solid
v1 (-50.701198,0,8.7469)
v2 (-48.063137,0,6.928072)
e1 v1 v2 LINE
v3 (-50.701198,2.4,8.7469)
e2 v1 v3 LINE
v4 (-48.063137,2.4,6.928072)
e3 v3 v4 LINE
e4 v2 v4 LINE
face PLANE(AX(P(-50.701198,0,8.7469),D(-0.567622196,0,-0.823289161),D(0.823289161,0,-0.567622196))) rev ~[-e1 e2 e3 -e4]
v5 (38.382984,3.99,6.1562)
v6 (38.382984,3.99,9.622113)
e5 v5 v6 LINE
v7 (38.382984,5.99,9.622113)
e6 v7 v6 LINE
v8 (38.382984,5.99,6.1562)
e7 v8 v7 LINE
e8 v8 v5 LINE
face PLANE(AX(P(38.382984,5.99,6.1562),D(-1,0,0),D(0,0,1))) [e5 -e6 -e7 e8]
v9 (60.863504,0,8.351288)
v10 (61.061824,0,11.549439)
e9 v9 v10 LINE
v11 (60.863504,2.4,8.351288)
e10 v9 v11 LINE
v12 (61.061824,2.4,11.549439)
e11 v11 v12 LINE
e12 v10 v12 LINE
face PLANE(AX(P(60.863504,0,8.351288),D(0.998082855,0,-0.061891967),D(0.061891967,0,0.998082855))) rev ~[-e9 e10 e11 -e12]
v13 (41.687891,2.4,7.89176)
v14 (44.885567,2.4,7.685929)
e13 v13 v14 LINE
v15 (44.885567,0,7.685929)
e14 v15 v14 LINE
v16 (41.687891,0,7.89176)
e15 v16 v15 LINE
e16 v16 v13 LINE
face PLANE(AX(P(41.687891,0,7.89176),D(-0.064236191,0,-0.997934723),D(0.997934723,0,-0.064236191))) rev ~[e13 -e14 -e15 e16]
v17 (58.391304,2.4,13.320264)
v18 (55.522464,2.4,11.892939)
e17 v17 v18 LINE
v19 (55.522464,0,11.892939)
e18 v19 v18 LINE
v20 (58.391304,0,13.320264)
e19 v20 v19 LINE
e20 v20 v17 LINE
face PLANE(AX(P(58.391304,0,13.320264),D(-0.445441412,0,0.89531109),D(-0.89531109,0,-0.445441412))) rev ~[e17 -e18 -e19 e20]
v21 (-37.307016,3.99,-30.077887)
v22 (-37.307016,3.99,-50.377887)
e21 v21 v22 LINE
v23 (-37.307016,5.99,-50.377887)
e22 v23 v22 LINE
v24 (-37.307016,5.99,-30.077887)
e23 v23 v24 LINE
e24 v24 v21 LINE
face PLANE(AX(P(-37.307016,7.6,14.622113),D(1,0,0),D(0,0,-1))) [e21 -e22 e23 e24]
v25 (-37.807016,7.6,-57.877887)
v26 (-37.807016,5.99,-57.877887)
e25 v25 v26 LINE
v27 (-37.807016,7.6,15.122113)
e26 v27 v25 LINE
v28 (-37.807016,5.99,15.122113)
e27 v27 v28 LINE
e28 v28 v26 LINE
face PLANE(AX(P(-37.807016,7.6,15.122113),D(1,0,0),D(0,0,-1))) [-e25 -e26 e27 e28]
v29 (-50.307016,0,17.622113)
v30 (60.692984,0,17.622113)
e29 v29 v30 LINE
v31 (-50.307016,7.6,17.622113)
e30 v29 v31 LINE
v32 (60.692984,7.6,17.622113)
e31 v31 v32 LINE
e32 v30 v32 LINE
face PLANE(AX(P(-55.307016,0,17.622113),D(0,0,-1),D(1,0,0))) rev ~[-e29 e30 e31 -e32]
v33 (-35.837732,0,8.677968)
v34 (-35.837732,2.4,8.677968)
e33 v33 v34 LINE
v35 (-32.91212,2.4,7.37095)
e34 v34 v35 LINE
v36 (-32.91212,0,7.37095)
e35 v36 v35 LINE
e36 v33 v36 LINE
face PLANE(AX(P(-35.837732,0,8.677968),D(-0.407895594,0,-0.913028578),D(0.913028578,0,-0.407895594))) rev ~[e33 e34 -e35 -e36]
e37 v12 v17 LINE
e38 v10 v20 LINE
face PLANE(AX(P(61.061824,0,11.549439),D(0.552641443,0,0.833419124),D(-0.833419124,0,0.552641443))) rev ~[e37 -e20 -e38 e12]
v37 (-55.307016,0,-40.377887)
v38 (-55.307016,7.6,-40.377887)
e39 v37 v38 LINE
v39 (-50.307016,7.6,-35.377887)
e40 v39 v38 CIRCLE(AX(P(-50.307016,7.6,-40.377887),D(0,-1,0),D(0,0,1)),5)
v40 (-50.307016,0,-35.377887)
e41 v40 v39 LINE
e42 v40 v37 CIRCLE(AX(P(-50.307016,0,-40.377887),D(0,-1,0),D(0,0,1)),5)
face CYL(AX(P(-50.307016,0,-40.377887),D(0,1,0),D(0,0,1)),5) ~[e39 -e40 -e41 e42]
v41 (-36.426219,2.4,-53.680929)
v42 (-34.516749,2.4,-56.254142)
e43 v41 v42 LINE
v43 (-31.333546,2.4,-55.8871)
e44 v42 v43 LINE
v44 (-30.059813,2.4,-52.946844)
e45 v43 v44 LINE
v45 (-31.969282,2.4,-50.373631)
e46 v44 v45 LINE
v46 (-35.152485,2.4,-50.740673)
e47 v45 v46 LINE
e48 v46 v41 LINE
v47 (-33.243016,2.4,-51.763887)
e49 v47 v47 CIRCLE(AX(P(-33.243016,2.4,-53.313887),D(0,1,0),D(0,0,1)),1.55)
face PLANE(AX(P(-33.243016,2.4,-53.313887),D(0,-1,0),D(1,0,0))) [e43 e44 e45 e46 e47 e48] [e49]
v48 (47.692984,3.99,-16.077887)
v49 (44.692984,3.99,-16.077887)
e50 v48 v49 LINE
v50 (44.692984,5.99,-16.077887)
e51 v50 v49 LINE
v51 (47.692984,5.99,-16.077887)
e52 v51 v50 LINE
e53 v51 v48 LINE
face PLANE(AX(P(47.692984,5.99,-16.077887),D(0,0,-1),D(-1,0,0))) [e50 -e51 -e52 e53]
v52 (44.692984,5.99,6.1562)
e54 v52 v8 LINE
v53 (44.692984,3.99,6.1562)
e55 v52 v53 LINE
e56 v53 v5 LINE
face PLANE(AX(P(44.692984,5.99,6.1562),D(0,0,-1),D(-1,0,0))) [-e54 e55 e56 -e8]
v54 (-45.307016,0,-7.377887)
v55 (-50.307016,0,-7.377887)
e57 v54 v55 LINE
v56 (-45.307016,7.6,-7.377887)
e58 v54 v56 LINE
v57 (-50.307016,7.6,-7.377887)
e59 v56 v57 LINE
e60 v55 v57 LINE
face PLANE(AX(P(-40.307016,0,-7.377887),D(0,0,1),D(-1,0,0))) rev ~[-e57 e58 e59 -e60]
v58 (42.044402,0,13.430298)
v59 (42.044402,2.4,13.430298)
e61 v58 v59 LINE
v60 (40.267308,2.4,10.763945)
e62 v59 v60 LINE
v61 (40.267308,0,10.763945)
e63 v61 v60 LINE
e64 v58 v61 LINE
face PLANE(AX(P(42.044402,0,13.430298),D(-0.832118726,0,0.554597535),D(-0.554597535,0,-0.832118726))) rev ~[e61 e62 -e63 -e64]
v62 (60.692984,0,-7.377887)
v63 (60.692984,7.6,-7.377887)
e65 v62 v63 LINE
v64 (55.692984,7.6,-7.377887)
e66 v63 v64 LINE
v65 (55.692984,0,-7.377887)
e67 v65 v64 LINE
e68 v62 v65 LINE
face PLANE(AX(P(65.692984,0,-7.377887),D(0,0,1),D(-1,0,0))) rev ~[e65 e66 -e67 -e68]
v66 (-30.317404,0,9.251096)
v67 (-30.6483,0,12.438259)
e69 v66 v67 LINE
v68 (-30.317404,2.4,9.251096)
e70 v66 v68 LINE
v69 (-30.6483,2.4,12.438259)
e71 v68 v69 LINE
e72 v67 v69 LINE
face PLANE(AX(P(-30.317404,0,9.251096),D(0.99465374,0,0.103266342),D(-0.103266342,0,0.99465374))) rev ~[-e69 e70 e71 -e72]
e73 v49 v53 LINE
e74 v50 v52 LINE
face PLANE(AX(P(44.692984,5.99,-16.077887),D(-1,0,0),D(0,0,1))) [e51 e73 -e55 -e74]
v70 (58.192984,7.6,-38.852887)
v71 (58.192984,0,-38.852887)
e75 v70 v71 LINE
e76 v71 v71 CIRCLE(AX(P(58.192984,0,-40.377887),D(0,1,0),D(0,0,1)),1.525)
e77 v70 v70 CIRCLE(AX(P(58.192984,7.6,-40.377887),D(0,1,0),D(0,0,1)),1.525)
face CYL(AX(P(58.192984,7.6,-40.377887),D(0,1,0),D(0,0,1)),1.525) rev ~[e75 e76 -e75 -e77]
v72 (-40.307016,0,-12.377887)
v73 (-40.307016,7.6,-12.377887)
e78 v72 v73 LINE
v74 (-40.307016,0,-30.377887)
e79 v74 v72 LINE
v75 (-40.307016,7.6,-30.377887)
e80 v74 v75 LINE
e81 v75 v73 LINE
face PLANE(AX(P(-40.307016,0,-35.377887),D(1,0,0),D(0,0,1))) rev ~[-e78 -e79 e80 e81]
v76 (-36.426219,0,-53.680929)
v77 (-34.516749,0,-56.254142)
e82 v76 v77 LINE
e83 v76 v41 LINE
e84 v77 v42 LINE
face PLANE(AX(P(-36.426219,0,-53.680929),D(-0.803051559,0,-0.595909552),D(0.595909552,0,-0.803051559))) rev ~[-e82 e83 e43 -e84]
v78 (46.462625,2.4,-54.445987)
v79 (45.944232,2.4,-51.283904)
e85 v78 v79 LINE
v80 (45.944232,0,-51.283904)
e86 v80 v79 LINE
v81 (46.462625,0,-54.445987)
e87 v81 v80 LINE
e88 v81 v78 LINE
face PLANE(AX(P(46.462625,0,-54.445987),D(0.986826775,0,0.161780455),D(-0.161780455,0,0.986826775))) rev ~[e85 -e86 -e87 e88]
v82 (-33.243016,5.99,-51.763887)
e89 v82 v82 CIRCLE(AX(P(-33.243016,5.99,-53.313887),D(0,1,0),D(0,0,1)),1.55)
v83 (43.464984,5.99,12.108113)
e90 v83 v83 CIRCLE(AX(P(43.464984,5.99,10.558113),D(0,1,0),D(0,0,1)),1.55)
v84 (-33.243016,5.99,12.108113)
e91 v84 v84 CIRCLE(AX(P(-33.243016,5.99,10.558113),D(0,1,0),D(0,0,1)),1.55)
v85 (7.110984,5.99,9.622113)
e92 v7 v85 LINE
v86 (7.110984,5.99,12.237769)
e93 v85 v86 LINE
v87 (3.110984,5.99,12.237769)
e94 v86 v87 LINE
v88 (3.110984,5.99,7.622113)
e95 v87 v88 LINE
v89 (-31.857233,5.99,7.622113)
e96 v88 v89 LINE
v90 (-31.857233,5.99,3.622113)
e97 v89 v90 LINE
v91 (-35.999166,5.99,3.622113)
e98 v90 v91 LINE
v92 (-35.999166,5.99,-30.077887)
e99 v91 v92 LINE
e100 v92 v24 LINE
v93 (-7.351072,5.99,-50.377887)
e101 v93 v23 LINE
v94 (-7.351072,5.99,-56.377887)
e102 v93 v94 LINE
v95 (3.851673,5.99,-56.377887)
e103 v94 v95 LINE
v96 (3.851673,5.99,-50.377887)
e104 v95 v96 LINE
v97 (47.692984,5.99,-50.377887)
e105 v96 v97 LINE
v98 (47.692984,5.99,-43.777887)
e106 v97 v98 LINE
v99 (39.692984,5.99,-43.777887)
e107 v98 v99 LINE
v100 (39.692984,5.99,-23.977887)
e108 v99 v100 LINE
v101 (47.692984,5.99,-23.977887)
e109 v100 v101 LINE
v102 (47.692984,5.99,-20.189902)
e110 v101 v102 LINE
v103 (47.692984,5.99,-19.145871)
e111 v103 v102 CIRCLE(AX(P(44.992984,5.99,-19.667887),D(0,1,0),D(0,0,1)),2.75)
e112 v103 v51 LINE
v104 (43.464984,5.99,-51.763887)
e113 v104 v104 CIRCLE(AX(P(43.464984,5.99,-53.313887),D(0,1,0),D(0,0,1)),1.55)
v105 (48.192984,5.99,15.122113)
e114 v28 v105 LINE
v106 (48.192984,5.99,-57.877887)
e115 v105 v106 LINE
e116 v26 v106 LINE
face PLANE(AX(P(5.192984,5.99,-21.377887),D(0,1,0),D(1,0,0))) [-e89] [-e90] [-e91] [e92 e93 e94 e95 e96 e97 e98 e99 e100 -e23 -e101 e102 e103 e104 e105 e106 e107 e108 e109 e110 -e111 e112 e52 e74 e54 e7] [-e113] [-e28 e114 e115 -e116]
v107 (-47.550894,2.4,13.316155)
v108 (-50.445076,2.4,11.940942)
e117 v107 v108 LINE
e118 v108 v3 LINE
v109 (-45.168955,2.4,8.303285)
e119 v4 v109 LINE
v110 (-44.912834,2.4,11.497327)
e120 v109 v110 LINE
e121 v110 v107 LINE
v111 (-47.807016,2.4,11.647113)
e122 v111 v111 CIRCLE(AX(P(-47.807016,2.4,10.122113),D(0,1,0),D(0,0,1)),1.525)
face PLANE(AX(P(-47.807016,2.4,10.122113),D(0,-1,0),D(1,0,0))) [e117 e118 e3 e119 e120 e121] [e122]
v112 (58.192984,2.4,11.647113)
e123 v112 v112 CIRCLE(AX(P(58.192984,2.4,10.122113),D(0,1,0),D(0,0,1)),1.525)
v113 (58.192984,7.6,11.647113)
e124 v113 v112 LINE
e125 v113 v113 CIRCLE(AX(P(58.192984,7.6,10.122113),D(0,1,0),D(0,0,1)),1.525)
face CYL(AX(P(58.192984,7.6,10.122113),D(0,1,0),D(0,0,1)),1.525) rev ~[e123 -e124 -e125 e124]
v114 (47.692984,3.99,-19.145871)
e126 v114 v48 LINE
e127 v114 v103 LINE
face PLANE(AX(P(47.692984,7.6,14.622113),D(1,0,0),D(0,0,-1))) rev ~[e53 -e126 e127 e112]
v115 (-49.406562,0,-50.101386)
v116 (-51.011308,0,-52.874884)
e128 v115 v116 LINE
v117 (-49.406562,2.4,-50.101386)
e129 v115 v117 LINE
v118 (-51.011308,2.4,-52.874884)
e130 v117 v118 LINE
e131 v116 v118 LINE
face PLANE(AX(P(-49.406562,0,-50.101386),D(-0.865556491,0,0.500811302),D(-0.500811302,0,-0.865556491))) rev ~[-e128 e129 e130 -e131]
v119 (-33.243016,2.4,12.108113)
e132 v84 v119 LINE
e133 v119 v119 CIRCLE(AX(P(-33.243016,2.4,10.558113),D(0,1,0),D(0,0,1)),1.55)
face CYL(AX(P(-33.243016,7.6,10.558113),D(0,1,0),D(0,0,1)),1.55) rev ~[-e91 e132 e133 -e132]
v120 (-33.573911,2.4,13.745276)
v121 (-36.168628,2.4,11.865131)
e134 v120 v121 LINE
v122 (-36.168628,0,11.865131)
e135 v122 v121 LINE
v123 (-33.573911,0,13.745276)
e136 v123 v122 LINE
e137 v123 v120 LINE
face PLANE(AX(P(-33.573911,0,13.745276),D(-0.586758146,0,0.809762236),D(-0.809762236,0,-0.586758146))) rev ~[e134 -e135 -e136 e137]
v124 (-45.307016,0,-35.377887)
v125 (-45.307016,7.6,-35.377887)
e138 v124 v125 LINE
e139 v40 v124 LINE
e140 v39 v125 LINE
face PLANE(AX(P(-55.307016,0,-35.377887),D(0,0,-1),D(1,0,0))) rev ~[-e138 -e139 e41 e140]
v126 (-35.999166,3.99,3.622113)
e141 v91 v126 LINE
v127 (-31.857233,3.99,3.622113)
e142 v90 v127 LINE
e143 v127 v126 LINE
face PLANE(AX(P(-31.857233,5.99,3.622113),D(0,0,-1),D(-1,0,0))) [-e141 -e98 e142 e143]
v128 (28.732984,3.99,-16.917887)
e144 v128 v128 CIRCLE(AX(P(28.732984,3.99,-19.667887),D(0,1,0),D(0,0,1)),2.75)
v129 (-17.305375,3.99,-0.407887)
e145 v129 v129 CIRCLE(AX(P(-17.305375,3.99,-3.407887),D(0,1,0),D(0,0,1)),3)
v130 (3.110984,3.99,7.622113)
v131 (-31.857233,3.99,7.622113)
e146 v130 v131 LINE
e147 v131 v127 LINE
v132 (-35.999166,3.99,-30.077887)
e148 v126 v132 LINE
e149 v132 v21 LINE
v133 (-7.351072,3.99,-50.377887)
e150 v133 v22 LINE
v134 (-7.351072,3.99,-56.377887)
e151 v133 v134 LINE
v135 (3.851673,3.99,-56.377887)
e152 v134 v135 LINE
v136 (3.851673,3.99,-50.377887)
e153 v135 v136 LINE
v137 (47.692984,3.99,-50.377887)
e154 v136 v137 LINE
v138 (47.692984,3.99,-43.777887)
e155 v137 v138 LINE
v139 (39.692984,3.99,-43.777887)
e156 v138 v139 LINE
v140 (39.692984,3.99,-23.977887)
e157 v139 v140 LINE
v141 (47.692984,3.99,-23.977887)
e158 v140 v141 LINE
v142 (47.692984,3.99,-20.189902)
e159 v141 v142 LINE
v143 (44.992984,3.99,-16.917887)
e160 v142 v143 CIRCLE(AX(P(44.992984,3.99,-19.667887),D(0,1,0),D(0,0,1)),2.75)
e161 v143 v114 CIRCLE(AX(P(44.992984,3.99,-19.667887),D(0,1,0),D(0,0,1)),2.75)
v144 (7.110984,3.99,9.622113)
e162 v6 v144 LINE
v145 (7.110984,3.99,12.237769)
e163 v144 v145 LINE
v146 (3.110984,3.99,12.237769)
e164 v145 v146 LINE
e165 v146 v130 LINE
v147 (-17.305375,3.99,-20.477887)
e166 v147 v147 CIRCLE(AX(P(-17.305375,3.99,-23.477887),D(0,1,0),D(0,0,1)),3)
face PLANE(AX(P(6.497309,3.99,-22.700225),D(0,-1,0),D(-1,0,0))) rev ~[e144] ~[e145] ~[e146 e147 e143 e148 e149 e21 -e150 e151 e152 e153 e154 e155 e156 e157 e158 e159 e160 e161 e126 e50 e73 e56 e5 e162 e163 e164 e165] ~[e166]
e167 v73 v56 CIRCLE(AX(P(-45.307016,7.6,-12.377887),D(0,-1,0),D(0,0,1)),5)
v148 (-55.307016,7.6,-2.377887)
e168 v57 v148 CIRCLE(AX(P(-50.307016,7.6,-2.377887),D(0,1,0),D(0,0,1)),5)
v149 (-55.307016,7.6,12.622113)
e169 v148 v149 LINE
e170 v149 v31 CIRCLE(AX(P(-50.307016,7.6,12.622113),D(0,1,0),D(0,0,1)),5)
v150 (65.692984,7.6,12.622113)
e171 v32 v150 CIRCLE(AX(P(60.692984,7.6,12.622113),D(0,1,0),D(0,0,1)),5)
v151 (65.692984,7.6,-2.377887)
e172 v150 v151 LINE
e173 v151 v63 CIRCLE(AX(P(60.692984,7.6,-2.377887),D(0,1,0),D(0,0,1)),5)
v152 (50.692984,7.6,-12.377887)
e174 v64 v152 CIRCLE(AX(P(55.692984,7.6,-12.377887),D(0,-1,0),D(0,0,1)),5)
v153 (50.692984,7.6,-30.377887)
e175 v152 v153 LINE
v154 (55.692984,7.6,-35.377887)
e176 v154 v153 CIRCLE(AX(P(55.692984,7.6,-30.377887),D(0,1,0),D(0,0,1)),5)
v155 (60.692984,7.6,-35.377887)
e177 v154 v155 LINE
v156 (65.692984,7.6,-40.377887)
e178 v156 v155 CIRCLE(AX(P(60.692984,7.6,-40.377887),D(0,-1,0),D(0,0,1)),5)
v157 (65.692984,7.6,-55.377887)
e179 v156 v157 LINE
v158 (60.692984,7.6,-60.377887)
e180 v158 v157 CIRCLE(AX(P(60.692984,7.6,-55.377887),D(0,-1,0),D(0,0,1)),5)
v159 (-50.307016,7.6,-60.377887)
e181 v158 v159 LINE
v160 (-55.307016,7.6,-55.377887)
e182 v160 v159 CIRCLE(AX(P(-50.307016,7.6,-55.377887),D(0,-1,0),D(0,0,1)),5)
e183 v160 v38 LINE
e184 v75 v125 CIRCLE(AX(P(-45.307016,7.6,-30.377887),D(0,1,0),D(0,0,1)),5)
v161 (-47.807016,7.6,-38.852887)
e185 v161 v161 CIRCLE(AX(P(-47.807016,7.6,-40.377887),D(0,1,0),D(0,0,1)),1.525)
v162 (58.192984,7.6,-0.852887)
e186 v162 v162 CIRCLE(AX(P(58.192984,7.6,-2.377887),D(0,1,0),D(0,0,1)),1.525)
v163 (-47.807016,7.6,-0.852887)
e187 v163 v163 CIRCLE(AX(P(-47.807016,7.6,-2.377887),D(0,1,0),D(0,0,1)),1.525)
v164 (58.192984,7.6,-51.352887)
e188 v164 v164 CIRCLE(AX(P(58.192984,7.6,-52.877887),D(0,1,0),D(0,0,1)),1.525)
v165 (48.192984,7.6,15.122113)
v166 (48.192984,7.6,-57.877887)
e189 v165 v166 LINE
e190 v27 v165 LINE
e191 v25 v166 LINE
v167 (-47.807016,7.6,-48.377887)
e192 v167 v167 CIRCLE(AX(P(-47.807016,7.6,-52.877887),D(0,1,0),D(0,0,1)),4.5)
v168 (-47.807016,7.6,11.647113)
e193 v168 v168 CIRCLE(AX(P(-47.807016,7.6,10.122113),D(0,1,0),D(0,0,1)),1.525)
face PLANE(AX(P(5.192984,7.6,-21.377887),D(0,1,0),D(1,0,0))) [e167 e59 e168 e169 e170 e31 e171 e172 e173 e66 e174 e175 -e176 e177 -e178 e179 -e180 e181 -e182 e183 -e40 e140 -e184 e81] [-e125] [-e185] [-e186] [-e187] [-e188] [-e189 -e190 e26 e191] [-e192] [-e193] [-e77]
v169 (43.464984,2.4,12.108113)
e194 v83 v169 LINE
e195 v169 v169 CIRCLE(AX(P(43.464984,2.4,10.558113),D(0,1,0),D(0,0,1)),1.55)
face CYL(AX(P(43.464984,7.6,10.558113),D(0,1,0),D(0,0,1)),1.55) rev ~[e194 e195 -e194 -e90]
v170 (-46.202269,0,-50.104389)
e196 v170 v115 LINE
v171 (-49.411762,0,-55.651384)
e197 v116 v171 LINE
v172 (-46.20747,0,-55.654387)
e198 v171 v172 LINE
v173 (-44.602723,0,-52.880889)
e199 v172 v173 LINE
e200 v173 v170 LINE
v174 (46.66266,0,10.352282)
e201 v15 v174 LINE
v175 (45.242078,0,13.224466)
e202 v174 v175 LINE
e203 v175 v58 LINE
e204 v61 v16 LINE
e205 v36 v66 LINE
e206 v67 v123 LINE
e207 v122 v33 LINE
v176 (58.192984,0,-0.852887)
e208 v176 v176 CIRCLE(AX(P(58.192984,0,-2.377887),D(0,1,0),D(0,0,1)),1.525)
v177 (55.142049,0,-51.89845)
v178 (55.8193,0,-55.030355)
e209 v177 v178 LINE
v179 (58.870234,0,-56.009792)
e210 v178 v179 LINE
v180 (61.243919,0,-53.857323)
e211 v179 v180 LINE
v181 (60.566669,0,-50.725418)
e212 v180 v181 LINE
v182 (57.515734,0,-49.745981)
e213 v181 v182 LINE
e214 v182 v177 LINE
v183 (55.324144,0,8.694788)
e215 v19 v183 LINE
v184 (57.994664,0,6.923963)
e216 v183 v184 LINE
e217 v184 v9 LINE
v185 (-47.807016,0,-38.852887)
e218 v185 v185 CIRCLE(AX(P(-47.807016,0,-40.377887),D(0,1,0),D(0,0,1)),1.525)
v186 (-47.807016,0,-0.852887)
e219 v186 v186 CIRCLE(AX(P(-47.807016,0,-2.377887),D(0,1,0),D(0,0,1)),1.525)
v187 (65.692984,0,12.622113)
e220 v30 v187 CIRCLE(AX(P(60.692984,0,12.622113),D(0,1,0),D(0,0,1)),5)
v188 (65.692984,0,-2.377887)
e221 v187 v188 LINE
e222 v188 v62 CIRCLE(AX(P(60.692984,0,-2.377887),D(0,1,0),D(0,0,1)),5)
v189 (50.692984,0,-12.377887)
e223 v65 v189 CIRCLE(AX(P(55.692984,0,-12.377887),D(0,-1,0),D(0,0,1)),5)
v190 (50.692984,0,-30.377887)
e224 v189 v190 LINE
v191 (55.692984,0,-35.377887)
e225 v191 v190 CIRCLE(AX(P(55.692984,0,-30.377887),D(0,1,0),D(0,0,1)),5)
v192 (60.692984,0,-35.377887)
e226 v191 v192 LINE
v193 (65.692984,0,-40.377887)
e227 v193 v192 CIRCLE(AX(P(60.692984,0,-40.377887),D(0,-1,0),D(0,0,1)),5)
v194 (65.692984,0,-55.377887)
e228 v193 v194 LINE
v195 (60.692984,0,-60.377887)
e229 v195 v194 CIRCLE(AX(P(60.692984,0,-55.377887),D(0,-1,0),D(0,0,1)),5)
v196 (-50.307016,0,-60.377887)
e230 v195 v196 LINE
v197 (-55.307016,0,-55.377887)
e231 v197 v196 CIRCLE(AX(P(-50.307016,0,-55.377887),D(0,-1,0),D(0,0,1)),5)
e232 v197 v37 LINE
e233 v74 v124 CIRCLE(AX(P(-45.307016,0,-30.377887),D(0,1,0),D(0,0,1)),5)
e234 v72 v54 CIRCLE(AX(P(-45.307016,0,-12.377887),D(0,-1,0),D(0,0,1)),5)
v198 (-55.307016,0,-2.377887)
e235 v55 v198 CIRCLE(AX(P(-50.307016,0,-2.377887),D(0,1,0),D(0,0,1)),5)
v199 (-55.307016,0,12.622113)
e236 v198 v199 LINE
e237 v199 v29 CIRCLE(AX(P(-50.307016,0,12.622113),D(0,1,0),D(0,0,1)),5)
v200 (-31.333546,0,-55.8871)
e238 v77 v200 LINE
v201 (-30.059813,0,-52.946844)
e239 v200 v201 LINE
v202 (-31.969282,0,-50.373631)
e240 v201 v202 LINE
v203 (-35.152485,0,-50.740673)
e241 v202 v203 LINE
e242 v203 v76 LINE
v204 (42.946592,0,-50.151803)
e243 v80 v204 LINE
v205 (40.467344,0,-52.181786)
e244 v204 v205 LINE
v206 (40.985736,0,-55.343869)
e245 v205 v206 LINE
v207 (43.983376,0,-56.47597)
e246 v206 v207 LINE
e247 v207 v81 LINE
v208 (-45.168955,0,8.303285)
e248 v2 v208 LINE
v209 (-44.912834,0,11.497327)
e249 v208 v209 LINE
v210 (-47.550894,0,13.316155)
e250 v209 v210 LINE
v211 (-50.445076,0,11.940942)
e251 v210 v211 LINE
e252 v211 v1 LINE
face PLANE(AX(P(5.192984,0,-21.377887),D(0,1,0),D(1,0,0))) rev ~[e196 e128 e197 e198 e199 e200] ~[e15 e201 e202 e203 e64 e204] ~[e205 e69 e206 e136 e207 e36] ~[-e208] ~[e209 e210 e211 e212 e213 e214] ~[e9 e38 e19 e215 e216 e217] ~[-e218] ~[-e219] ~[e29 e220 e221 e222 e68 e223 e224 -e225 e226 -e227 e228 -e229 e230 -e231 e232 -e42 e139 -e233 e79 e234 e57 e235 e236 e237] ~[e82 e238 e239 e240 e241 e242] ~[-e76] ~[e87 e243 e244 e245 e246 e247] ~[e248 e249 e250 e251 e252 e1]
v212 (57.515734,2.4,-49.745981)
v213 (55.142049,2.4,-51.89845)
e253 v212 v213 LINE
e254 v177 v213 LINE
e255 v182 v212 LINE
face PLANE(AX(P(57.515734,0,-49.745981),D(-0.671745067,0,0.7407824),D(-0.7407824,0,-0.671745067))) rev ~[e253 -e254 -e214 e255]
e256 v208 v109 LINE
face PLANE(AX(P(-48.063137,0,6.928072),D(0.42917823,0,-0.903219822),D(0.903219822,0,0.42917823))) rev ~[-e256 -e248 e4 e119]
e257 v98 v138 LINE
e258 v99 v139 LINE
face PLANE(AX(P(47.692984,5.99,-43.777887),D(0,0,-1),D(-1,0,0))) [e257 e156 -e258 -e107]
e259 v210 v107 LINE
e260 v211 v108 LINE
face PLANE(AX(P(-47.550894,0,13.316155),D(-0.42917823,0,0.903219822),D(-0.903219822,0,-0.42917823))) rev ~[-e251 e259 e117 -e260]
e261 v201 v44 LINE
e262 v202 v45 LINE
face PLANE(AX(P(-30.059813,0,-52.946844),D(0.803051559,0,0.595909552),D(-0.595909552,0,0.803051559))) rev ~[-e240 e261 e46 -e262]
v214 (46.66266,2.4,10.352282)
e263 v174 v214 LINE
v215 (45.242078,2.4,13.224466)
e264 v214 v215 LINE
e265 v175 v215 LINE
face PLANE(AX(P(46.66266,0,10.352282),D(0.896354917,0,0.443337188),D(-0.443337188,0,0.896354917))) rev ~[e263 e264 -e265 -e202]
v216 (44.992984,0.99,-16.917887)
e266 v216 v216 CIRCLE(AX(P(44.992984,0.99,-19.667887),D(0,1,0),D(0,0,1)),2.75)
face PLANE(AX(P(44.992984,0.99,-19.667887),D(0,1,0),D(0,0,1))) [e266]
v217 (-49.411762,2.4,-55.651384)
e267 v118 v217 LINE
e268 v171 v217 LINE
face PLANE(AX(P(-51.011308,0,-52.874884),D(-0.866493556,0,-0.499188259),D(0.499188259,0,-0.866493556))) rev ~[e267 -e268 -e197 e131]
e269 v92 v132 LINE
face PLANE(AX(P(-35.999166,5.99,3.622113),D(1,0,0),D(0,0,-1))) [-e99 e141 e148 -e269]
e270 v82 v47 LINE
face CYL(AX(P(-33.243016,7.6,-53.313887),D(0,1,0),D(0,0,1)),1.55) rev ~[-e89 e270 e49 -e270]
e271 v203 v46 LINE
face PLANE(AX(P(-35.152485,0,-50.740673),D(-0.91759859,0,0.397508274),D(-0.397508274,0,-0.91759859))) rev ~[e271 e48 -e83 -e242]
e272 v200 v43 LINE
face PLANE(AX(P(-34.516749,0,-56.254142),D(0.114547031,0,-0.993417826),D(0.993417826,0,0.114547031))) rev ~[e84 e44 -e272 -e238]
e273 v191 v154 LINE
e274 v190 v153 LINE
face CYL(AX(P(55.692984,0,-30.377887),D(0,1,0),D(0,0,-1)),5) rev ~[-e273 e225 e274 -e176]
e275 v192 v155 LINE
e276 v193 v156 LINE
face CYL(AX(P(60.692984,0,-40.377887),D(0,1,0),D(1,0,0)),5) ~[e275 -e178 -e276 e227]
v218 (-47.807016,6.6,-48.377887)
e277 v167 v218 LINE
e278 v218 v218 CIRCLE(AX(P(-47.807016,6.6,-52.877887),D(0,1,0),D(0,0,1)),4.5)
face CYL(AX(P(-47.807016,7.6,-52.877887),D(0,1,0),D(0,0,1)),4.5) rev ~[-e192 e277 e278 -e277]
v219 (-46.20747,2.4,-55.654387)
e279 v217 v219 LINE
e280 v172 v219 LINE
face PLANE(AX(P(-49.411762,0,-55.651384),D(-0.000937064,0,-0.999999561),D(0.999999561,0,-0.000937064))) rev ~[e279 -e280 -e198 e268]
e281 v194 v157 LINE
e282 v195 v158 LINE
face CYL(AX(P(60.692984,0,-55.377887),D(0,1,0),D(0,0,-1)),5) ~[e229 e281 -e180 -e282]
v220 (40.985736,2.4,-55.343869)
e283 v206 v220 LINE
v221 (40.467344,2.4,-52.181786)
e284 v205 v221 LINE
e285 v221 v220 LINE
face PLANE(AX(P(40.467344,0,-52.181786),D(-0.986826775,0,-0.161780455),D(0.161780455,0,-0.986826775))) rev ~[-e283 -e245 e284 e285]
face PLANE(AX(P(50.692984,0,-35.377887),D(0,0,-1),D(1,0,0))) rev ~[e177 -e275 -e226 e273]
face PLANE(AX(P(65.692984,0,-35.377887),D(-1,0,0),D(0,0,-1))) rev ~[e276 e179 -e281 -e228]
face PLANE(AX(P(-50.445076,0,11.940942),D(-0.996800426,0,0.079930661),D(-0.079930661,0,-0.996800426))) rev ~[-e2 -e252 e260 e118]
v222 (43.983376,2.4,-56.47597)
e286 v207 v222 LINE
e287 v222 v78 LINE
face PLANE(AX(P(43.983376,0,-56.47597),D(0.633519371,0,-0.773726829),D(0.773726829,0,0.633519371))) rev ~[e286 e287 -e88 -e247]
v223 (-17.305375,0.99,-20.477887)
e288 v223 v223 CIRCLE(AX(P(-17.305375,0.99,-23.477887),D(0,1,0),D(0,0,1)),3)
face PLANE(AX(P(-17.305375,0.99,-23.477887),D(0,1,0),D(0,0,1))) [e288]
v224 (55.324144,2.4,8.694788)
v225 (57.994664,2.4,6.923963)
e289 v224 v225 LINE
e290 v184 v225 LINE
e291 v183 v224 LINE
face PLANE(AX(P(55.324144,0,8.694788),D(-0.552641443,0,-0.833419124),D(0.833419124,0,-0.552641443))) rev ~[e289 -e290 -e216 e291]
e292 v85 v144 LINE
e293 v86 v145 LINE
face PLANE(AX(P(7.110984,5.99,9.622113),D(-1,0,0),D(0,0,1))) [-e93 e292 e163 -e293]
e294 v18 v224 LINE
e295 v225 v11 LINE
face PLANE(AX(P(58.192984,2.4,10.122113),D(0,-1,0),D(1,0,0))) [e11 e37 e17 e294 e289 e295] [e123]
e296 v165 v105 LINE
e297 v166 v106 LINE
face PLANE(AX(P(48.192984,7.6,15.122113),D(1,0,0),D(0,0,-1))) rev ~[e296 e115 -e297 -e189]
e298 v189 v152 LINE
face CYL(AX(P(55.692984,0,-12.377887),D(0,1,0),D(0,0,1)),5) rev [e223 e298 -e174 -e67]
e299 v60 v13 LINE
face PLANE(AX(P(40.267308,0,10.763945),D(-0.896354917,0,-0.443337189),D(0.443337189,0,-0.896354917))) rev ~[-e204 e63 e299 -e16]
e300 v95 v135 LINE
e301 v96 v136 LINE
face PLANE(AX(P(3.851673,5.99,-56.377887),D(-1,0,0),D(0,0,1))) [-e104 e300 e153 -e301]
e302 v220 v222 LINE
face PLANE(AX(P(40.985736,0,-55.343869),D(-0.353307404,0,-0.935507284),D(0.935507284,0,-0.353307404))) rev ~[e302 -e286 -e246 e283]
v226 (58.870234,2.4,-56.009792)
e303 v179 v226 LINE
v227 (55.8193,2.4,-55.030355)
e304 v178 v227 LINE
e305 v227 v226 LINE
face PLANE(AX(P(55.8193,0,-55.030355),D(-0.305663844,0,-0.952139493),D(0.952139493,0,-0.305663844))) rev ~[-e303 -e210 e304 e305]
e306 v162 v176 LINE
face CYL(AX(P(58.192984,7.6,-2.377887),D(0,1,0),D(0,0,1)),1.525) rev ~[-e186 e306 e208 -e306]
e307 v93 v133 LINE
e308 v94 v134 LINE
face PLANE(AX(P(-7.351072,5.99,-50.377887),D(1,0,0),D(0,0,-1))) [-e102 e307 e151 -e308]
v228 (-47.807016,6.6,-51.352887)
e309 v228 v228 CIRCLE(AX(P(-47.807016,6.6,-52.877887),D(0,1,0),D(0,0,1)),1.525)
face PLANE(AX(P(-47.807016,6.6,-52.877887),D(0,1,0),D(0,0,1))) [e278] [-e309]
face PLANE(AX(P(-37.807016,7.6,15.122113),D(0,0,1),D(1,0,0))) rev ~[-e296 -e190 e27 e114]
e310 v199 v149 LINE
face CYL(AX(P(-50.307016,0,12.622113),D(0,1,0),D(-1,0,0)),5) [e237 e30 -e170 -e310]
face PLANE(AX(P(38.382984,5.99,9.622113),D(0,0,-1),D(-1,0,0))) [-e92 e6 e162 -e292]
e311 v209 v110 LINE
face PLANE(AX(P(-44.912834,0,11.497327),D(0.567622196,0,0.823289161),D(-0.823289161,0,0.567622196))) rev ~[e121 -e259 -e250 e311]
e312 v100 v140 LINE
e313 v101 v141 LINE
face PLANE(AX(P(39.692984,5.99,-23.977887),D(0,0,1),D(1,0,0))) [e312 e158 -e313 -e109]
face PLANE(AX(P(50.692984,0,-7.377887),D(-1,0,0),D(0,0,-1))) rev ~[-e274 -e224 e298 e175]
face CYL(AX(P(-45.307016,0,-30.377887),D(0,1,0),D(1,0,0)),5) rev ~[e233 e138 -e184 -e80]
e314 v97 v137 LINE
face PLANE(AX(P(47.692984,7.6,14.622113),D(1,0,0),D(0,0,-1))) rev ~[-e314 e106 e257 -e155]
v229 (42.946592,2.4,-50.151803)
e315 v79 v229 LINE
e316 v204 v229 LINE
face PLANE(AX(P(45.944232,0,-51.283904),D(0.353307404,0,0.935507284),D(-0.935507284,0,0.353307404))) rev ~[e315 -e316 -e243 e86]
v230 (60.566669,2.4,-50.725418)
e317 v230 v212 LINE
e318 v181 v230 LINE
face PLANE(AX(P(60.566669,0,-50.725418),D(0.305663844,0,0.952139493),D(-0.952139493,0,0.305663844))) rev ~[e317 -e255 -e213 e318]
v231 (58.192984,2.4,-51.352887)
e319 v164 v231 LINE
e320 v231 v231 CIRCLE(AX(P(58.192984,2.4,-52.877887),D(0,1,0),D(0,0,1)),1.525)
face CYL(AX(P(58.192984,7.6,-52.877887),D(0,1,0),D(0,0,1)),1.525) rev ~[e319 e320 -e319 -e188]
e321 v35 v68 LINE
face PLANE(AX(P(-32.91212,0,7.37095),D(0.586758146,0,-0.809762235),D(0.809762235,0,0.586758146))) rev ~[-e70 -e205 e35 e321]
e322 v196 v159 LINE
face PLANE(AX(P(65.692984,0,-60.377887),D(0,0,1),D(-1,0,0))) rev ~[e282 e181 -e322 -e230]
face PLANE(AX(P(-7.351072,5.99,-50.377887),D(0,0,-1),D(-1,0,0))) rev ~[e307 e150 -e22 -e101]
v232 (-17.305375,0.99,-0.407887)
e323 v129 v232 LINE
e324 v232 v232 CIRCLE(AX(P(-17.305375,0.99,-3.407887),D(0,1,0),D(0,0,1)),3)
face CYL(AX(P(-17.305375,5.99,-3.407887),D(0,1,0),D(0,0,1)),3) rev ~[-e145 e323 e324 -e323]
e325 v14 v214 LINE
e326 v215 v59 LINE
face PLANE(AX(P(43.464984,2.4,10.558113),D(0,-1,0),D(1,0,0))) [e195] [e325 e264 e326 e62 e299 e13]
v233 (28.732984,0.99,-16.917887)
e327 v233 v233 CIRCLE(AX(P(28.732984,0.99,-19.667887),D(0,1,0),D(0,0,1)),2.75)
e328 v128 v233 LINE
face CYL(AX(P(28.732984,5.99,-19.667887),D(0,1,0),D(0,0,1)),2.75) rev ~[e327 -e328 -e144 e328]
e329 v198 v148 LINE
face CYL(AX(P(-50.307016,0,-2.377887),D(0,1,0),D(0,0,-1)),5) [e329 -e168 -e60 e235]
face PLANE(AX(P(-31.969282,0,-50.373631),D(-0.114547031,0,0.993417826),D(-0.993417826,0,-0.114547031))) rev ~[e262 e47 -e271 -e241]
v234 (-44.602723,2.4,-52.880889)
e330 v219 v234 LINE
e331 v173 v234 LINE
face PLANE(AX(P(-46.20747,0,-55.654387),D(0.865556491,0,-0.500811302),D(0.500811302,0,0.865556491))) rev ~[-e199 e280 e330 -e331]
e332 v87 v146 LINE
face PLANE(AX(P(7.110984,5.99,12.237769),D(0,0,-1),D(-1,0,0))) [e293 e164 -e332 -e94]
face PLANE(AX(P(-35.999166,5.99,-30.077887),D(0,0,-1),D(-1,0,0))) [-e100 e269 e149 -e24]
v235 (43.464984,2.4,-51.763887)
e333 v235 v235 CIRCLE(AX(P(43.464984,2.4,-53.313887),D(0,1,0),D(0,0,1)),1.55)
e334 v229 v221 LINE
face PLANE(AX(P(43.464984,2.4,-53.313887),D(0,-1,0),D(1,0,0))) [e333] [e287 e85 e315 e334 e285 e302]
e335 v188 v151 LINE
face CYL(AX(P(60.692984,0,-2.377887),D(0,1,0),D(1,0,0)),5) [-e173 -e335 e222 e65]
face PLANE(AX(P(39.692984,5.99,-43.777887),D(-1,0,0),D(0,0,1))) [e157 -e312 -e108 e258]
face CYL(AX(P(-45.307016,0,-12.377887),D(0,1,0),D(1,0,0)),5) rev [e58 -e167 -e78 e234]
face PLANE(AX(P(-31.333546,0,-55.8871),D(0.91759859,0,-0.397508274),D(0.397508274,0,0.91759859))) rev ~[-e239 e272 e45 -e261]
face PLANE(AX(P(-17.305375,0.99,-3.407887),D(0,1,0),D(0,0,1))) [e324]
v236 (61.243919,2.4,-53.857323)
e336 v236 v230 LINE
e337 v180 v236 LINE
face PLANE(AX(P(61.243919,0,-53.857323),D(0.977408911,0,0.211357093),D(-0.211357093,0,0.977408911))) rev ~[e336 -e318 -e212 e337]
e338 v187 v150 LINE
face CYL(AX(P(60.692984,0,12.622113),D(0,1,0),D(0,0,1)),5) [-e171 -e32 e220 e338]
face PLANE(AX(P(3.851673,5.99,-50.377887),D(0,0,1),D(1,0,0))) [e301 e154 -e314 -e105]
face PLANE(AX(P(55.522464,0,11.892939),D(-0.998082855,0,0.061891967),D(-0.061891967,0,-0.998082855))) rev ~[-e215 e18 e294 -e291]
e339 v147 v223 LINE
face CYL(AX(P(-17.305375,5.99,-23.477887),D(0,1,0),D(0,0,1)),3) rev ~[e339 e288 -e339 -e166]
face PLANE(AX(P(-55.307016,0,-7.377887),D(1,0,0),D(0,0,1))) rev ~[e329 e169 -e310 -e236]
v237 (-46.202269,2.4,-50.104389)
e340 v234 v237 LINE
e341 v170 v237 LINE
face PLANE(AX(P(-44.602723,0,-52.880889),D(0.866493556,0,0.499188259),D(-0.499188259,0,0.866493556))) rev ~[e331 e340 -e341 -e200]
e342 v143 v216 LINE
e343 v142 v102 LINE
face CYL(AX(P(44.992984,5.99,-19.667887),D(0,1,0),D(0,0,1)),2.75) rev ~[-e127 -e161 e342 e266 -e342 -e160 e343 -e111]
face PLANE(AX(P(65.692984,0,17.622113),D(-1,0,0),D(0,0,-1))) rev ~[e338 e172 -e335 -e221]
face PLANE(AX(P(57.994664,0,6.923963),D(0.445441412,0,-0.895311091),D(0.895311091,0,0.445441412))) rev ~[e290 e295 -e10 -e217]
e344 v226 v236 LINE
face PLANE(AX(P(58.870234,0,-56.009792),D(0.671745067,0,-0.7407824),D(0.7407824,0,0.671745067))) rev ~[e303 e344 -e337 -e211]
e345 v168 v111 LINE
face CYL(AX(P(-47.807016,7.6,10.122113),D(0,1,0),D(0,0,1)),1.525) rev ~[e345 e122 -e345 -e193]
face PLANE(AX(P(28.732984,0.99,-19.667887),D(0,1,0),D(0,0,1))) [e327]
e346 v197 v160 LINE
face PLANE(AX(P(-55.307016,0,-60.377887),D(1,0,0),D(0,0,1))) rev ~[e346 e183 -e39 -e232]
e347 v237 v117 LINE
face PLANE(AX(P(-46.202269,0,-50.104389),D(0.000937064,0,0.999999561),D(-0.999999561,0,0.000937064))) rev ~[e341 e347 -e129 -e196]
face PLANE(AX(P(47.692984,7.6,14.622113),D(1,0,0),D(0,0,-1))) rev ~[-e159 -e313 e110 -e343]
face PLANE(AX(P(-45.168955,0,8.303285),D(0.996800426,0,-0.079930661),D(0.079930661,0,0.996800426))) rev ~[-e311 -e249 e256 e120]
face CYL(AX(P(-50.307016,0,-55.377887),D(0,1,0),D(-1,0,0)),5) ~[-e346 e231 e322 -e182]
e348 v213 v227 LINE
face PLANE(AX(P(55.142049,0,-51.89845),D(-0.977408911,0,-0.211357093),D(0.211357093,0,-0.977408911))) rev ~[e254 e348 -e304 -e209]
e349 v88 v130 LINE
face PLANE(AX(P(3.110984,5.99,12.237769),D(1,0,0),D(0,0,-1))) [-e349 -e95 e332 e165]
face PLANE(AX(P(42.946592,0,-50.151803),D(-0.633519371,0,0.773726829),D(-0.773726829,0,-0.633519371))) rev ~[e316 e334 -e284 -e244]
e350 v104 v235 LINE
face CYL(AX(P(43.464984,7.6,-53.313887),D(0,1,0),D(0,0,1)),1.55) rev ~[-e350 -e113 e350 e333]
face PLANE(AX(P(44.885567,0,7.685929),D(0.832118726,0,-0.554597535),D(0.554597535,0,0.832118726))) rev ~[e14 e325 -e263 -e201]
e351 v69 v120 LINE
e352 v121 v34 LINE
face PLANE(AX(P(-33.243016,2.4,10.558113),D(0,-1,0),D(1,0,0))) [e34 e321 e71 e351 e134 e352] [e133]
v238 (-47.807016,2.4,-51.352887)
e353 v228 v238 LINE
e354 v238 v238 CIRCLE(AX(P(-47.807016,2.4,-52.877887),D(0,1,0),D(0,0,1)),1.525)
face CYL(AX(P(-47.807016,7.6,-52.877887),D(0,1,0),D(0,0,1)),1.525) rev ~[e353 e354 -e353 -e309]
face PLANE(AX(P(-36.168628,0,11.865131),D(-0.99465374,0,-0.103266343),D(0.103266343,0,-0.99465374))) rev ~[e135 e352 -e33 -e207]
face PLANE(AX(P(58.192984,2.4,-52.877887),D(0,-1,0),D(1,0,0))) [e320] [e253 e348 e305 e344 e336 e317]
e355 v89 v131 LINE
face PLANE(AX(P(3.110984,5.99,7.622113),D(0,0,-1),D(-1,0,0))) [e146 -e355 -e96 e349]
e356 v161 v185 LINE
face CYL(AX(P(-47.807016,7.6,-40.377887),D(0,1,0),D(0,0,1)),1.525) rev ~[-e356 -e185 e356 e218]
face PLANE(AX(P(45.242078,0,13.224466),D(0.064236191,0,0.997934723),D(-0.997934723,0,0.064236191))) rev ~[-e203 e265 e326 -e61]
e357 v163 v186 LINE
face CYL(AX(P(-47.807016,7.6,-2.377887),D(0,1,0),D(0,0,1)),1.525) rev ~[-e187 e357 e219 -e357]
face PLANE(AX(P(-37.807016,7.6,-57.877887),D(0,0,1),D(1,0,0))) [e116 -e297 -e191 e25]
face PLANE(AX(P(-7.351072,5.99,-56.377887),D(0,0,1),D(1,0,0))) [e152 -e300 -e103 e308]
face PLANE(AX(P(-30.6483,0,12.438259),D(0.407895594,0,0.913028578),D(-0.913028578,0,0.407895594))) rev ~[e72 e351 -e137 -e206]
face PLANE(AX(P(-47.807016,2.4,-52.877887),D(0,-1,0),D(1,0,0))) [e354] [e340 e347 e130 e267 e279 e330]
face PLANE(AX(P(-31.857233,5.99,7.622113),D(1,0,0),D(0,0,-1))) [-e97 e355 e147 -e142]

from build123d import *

# Parameters (mm, degrees)
BOSS_EXTRUDE1_DEPTH = 7.6
SKETCH2_5_W         = 85
SKETCH2_5_H         = 72
CUT_EXTRUDE9_DEPTH  = 1.61
CUT_EXTRUDE10_DEPTH = 2
SKETCH2_R           = 1.55
CUT_EXTRUDE3_DEPTH  = 90.547849587
FILLET1_R           = 5
SKETCH5_R           = 1.525
CUT_EXTRUDE4_DEPTH  = 10
SKETCH5_3_R         = 4.5
CUT_EXTRUDE5_DEPTH  = 1
CUT_EXTRUDE6_DEPTH  = 2.4
SKETCH12_R          = 2.75
SKETCH12_R_2        = 3
CUT_EXTRUDE11_DEPTH = 5
SKETCH2_6_W         = 86
SKETCH2_6_H         = 73
CUT_EXTRUDE12_DEPTH = 1.61


with BuildPart() as part:
    # Sketch1 → Boss-Extrude1 (new body)
    with BuildSketch(Plane(origin=(0, 0, 0), x_dir=(1, 0, 0), z_dir=(0, 1, 0))):
        Polygon((-40.307015775, 35.377886591), (-40.307015775, 7.377886591), (-55.307015775, 7.377886591), (-55.307015775, -17.622113409), (-44.307015775, -17.622113409), (45.692984225, -17.622113409), (65.692984225, -17.622113409), (65.692984225, 7.377886591), (50.692984225, 7.377886591), (50.692984225, 35.377886591), (65.692984225, 35.377886591), (65.692984225, 60.377886591), (45.692984225, 60.377886591), (-44.307015775, 60.377886591), (-55.307015775, 60.377886591), (-55.307015775, 35.377886591), align=None)
    extrude(amount=BOSS_EXTRUDE1_DEPTH)

    # Sketch2<5> → Cut-Extrude9 (cut)
    with BuildSketch(Plane(origin=(0, 7.6, 0), x_dir=(1, 0, 0), z_dir=(0, 1, 0))):
        with Locations((5.192984225, 21.377886591)):
            Rectangle(SKETCH2_5_W, SKETCH2_5_H)
    extrude(amount=-CUT_EXTRUDE9_DEPTH, mode=Mode.SUBTRACT)

    # Sketch11 → Cut-Extrude10 (cut)
    with BuildSketch(Plane(origin=(0, 5.99, 0), x_dir=(1, 0, 0), z_dir=(0, 1, 0))):
        Polygon((-35.999166331, 50.377886591), (-7.351072422, 50.377886591), (-7.351072422, 56.377886591), (3.851672568, 56.377886591), (3.851672568, 50.377886591), (47.692984225, 50.377886591), (47.692984225, 43.777886591), (39.692984225, 43.777886591), (39.692984225, 23.977886591), (47.692984225, 23.977886591), (47.692984225, 16.077886591), (44.692984225, 16.077886591), (44.692984225, -6.156199895), (38.382984225, -6.156199895), (38.382984225, -9.622113409), (7.110984225, -9.622113409), (7.110984225, -12.237769432), (3.110984225, -12.237769432), (3.110984225, -7.622113409), (-31.857233389, -7.622113409), (-31.857233389, -3.622113409), (-35.999166331, -3.622113409), (-35.999166331, 30.077886591), (-37.307015775, 30.077886591), (-37.307015775, 50.377886591), align=None)
    extrude(amount=-CUT_EXTRUDE10_DEPTH, mode=Mode.SUBTRACT)

    # Sketch2 → Cut-Extrude3 (cut, through all)
    with BuildSketch(Plane(origin=(0, 7.6, 0), x_dir=(1, 0, 0), z_dir=(0, 1, 0))):
        with Locations((43.464984225, 53.313886591)):
            Circle(SKETCH2_R)
        with Locations((-33.243015775, 53.313886591)):
            Circle(SKETCH2_R)
        with Locations((-33.243015775, -10.558113409)):
            Circle(SKETCH2_R)
        with Locations((43.464984225, -10.558113409)):
            Circle(SKETCH2_R)
    extrude(amount=-CUT_EXTRUDE3_DEPTH, mode=Mode.SUBTRACT)

    # Fillet1
    fillet1_edges = [part.edges().sort_by_distance(p)[0] for p in [
        (-55.307015775, 3.8, -35.377886591),
        (-55.307015775, 3.8, -60.377886591),
        (-55.307015775, 3.8, 17.622113409),
        (65.692984225, 3.8, -60.377886591),
        (50.692984225, 3.8, -35.377886591),
        (65.692984225, 3.8, -35.377886591),
        (65.692984225, 3.8, 17.622113409),
        (-55.307015775, 3.8, -7.377886591),
        (65.692984225, 3.8, -7.377886591),
        (50.692984225, 3.8, -7.377886591),
        (-40.307015775, 3.8, -7.377886591),
        (-40.307015775, 3.8, -35.377886591),
    ]]
    fillet(fillet1_edges, radius=FILLET1_R)

    # Sketch5 → Cut-Extrude4 (cut)
    with BuildSketch(Plane(origin=(0, 7.6, 0), x_dir=(1, 0, 0), z_dir=(0, 1, 0))):
        with Locations((-47.807015775, 52.877886591)):
            Circle(SKETCH5_R)
        with Locations((-47.807015775, -10.122113409)):
            Circle(SKETCH5_R)
        with Locations((58.192984225, -10.122113409)):
            Circle(SKETCH5_R)
        with Locations((58.192984225, 52.877886591)):
            Circle(SKETCH5_R)
        with Locations((-47.807015775, 40.377886591)):
            Circle(SKETCH5_R)
        with Locations((-47.807015775, 2.377886591)):
            Circle(SKETCH5_R)
        with Locations((58.192984225, 2.377886591)):
            Circle(SKETCH5_R)
        with Locations((58.192984225, 40.377886591)):
            Circle(SKETCH5_R)
    extrude(amount=-CUT_EXTRUDE4_DEPTH, mode=Mode.SUBTRACT)

    # Sketch5<3> → Cut-Extrude5 (cut)
    with BuildSketch(Plane(origin=(0, 7.6, 0), x_dir=(1, 0, 0), z_dir=(0, 1, 0))):
        with Locations((-47.807015775, 52.877886591)):
            Circle(SKETCH5_3_R)
    extrude(amount=-CUT_EXTRUDE5_DEPTH, mode=Mode.SUBTRACT)

    # Sketch6 → Cut-Extrude6 (cut)
    with BuildSketch(Plane.XZ):
        Polygon((-48.06313711, 6.92807179), (-45.16895526, 8.303285016), (-44.912833924, 11.497326635), (-47.550894439, 13.316155027), (-50.445076289, 11.940941801), (-50.701197625, 8.746900183), align=None)
        Polygon((57.994664168, 6.923962513), (60.863504118, 8.351287753), (61.061824175, 11.549438649), (58.391304282, 13.320264305), (55.522464333, 11.892939064), (55.324144276, 8.694788168), align=None)
        Polygon((60.566668821, -50.725417907), (57.515733962, -49.745981088), (55.142049366, -51.898449773), (55.819299629, -55.030355276), (58.870234489, -56.009792094), (61.243919085, -53.85732341), align=None)
        Polygon((-51.011308362, -52.874883962), (-49.411762421, -55.651384058), (-46.207469834, -55.654386687), (-44.602723187, -52.88088922), (-46.202269128, -50.104389124), (-49.406561715, -50.101386495), align=None)
        Polygon((-36.168627764, 11.865130811), (-35.837732042, 8.677967805), (-32.912120053, 7.370950404), (-30.317403786, 9.251096007), (-30.648299507, 12.438259012), (-33.573911496, 13.745276414), align=None)
        Polygon((40.267307985, 10.763945049), (41.687890676, 7.891760372), (44.885566916, 7.685928731), (46.662660465, 10.352281768), (45.242077775, 13.224466445), (42.044401535, 13.430298086), align=None)
        Polygon((40.985735994, -55.343868908), (43.983376365, -56.4759697), (46.462624597, -54.445987383), (45.944232457, -51.283904274), (42.946592085, -50.151803482), (40.467343854, -52.181785799), align=None)
        Polygon((-36.426218549, -53.680928955), (-34.51674915, -56.254142241), (-31.333546376, -55.887099877), (-30.059813, -52.946844227), (-31.969282399, -50.373630941), (-35.152485173, -50.740673305), align=None)
    extrude(amount=-CUT_EXTRUDE6_DEPTH, mode=Mode.SUBTRACT)

    # Sketch12 → Cut-Extrude11 (cut)
    with BuildSketch(Plane(origin=(0, 5.99, 0), x_dir=(1, 0, 0), z_dir=(0, 1, 0))):
        with Locations((28.732984225, 19.667886591)):
            Circle(SKETCH12_R)
        with Locations((44.992984225, 19.667886591)):
            Circle(SKETCH12_R)
        with Locations((-17.305374837, 3.407886591)):
            Circle(SKETCH12_R_2)
        with Locations((-17.305374837, 23.477886591)):
            Circle(SKETCH12_R_2)
    extrude(amount=-CUT_EXTRUDE11_DEPTH, mode=Mode.SUBTRACT)

    # Sketch2<6> → Cut-Extrude12 (cut)
    with BuildSketch(Plane(origin=(0, 7.6, 0), x_dir=(1, 0, 0), z_dir=(0, 1, 0))):
        with Locations((5.192984225, 21.377886591)):
            Rectangle(SKETCH2_6_W, SKETCH2_6_H)
    extrude(amount=-CUT_EXTRUDE12_DEPTH, mode=Mode.SUBTRACT)


solid = part.part
